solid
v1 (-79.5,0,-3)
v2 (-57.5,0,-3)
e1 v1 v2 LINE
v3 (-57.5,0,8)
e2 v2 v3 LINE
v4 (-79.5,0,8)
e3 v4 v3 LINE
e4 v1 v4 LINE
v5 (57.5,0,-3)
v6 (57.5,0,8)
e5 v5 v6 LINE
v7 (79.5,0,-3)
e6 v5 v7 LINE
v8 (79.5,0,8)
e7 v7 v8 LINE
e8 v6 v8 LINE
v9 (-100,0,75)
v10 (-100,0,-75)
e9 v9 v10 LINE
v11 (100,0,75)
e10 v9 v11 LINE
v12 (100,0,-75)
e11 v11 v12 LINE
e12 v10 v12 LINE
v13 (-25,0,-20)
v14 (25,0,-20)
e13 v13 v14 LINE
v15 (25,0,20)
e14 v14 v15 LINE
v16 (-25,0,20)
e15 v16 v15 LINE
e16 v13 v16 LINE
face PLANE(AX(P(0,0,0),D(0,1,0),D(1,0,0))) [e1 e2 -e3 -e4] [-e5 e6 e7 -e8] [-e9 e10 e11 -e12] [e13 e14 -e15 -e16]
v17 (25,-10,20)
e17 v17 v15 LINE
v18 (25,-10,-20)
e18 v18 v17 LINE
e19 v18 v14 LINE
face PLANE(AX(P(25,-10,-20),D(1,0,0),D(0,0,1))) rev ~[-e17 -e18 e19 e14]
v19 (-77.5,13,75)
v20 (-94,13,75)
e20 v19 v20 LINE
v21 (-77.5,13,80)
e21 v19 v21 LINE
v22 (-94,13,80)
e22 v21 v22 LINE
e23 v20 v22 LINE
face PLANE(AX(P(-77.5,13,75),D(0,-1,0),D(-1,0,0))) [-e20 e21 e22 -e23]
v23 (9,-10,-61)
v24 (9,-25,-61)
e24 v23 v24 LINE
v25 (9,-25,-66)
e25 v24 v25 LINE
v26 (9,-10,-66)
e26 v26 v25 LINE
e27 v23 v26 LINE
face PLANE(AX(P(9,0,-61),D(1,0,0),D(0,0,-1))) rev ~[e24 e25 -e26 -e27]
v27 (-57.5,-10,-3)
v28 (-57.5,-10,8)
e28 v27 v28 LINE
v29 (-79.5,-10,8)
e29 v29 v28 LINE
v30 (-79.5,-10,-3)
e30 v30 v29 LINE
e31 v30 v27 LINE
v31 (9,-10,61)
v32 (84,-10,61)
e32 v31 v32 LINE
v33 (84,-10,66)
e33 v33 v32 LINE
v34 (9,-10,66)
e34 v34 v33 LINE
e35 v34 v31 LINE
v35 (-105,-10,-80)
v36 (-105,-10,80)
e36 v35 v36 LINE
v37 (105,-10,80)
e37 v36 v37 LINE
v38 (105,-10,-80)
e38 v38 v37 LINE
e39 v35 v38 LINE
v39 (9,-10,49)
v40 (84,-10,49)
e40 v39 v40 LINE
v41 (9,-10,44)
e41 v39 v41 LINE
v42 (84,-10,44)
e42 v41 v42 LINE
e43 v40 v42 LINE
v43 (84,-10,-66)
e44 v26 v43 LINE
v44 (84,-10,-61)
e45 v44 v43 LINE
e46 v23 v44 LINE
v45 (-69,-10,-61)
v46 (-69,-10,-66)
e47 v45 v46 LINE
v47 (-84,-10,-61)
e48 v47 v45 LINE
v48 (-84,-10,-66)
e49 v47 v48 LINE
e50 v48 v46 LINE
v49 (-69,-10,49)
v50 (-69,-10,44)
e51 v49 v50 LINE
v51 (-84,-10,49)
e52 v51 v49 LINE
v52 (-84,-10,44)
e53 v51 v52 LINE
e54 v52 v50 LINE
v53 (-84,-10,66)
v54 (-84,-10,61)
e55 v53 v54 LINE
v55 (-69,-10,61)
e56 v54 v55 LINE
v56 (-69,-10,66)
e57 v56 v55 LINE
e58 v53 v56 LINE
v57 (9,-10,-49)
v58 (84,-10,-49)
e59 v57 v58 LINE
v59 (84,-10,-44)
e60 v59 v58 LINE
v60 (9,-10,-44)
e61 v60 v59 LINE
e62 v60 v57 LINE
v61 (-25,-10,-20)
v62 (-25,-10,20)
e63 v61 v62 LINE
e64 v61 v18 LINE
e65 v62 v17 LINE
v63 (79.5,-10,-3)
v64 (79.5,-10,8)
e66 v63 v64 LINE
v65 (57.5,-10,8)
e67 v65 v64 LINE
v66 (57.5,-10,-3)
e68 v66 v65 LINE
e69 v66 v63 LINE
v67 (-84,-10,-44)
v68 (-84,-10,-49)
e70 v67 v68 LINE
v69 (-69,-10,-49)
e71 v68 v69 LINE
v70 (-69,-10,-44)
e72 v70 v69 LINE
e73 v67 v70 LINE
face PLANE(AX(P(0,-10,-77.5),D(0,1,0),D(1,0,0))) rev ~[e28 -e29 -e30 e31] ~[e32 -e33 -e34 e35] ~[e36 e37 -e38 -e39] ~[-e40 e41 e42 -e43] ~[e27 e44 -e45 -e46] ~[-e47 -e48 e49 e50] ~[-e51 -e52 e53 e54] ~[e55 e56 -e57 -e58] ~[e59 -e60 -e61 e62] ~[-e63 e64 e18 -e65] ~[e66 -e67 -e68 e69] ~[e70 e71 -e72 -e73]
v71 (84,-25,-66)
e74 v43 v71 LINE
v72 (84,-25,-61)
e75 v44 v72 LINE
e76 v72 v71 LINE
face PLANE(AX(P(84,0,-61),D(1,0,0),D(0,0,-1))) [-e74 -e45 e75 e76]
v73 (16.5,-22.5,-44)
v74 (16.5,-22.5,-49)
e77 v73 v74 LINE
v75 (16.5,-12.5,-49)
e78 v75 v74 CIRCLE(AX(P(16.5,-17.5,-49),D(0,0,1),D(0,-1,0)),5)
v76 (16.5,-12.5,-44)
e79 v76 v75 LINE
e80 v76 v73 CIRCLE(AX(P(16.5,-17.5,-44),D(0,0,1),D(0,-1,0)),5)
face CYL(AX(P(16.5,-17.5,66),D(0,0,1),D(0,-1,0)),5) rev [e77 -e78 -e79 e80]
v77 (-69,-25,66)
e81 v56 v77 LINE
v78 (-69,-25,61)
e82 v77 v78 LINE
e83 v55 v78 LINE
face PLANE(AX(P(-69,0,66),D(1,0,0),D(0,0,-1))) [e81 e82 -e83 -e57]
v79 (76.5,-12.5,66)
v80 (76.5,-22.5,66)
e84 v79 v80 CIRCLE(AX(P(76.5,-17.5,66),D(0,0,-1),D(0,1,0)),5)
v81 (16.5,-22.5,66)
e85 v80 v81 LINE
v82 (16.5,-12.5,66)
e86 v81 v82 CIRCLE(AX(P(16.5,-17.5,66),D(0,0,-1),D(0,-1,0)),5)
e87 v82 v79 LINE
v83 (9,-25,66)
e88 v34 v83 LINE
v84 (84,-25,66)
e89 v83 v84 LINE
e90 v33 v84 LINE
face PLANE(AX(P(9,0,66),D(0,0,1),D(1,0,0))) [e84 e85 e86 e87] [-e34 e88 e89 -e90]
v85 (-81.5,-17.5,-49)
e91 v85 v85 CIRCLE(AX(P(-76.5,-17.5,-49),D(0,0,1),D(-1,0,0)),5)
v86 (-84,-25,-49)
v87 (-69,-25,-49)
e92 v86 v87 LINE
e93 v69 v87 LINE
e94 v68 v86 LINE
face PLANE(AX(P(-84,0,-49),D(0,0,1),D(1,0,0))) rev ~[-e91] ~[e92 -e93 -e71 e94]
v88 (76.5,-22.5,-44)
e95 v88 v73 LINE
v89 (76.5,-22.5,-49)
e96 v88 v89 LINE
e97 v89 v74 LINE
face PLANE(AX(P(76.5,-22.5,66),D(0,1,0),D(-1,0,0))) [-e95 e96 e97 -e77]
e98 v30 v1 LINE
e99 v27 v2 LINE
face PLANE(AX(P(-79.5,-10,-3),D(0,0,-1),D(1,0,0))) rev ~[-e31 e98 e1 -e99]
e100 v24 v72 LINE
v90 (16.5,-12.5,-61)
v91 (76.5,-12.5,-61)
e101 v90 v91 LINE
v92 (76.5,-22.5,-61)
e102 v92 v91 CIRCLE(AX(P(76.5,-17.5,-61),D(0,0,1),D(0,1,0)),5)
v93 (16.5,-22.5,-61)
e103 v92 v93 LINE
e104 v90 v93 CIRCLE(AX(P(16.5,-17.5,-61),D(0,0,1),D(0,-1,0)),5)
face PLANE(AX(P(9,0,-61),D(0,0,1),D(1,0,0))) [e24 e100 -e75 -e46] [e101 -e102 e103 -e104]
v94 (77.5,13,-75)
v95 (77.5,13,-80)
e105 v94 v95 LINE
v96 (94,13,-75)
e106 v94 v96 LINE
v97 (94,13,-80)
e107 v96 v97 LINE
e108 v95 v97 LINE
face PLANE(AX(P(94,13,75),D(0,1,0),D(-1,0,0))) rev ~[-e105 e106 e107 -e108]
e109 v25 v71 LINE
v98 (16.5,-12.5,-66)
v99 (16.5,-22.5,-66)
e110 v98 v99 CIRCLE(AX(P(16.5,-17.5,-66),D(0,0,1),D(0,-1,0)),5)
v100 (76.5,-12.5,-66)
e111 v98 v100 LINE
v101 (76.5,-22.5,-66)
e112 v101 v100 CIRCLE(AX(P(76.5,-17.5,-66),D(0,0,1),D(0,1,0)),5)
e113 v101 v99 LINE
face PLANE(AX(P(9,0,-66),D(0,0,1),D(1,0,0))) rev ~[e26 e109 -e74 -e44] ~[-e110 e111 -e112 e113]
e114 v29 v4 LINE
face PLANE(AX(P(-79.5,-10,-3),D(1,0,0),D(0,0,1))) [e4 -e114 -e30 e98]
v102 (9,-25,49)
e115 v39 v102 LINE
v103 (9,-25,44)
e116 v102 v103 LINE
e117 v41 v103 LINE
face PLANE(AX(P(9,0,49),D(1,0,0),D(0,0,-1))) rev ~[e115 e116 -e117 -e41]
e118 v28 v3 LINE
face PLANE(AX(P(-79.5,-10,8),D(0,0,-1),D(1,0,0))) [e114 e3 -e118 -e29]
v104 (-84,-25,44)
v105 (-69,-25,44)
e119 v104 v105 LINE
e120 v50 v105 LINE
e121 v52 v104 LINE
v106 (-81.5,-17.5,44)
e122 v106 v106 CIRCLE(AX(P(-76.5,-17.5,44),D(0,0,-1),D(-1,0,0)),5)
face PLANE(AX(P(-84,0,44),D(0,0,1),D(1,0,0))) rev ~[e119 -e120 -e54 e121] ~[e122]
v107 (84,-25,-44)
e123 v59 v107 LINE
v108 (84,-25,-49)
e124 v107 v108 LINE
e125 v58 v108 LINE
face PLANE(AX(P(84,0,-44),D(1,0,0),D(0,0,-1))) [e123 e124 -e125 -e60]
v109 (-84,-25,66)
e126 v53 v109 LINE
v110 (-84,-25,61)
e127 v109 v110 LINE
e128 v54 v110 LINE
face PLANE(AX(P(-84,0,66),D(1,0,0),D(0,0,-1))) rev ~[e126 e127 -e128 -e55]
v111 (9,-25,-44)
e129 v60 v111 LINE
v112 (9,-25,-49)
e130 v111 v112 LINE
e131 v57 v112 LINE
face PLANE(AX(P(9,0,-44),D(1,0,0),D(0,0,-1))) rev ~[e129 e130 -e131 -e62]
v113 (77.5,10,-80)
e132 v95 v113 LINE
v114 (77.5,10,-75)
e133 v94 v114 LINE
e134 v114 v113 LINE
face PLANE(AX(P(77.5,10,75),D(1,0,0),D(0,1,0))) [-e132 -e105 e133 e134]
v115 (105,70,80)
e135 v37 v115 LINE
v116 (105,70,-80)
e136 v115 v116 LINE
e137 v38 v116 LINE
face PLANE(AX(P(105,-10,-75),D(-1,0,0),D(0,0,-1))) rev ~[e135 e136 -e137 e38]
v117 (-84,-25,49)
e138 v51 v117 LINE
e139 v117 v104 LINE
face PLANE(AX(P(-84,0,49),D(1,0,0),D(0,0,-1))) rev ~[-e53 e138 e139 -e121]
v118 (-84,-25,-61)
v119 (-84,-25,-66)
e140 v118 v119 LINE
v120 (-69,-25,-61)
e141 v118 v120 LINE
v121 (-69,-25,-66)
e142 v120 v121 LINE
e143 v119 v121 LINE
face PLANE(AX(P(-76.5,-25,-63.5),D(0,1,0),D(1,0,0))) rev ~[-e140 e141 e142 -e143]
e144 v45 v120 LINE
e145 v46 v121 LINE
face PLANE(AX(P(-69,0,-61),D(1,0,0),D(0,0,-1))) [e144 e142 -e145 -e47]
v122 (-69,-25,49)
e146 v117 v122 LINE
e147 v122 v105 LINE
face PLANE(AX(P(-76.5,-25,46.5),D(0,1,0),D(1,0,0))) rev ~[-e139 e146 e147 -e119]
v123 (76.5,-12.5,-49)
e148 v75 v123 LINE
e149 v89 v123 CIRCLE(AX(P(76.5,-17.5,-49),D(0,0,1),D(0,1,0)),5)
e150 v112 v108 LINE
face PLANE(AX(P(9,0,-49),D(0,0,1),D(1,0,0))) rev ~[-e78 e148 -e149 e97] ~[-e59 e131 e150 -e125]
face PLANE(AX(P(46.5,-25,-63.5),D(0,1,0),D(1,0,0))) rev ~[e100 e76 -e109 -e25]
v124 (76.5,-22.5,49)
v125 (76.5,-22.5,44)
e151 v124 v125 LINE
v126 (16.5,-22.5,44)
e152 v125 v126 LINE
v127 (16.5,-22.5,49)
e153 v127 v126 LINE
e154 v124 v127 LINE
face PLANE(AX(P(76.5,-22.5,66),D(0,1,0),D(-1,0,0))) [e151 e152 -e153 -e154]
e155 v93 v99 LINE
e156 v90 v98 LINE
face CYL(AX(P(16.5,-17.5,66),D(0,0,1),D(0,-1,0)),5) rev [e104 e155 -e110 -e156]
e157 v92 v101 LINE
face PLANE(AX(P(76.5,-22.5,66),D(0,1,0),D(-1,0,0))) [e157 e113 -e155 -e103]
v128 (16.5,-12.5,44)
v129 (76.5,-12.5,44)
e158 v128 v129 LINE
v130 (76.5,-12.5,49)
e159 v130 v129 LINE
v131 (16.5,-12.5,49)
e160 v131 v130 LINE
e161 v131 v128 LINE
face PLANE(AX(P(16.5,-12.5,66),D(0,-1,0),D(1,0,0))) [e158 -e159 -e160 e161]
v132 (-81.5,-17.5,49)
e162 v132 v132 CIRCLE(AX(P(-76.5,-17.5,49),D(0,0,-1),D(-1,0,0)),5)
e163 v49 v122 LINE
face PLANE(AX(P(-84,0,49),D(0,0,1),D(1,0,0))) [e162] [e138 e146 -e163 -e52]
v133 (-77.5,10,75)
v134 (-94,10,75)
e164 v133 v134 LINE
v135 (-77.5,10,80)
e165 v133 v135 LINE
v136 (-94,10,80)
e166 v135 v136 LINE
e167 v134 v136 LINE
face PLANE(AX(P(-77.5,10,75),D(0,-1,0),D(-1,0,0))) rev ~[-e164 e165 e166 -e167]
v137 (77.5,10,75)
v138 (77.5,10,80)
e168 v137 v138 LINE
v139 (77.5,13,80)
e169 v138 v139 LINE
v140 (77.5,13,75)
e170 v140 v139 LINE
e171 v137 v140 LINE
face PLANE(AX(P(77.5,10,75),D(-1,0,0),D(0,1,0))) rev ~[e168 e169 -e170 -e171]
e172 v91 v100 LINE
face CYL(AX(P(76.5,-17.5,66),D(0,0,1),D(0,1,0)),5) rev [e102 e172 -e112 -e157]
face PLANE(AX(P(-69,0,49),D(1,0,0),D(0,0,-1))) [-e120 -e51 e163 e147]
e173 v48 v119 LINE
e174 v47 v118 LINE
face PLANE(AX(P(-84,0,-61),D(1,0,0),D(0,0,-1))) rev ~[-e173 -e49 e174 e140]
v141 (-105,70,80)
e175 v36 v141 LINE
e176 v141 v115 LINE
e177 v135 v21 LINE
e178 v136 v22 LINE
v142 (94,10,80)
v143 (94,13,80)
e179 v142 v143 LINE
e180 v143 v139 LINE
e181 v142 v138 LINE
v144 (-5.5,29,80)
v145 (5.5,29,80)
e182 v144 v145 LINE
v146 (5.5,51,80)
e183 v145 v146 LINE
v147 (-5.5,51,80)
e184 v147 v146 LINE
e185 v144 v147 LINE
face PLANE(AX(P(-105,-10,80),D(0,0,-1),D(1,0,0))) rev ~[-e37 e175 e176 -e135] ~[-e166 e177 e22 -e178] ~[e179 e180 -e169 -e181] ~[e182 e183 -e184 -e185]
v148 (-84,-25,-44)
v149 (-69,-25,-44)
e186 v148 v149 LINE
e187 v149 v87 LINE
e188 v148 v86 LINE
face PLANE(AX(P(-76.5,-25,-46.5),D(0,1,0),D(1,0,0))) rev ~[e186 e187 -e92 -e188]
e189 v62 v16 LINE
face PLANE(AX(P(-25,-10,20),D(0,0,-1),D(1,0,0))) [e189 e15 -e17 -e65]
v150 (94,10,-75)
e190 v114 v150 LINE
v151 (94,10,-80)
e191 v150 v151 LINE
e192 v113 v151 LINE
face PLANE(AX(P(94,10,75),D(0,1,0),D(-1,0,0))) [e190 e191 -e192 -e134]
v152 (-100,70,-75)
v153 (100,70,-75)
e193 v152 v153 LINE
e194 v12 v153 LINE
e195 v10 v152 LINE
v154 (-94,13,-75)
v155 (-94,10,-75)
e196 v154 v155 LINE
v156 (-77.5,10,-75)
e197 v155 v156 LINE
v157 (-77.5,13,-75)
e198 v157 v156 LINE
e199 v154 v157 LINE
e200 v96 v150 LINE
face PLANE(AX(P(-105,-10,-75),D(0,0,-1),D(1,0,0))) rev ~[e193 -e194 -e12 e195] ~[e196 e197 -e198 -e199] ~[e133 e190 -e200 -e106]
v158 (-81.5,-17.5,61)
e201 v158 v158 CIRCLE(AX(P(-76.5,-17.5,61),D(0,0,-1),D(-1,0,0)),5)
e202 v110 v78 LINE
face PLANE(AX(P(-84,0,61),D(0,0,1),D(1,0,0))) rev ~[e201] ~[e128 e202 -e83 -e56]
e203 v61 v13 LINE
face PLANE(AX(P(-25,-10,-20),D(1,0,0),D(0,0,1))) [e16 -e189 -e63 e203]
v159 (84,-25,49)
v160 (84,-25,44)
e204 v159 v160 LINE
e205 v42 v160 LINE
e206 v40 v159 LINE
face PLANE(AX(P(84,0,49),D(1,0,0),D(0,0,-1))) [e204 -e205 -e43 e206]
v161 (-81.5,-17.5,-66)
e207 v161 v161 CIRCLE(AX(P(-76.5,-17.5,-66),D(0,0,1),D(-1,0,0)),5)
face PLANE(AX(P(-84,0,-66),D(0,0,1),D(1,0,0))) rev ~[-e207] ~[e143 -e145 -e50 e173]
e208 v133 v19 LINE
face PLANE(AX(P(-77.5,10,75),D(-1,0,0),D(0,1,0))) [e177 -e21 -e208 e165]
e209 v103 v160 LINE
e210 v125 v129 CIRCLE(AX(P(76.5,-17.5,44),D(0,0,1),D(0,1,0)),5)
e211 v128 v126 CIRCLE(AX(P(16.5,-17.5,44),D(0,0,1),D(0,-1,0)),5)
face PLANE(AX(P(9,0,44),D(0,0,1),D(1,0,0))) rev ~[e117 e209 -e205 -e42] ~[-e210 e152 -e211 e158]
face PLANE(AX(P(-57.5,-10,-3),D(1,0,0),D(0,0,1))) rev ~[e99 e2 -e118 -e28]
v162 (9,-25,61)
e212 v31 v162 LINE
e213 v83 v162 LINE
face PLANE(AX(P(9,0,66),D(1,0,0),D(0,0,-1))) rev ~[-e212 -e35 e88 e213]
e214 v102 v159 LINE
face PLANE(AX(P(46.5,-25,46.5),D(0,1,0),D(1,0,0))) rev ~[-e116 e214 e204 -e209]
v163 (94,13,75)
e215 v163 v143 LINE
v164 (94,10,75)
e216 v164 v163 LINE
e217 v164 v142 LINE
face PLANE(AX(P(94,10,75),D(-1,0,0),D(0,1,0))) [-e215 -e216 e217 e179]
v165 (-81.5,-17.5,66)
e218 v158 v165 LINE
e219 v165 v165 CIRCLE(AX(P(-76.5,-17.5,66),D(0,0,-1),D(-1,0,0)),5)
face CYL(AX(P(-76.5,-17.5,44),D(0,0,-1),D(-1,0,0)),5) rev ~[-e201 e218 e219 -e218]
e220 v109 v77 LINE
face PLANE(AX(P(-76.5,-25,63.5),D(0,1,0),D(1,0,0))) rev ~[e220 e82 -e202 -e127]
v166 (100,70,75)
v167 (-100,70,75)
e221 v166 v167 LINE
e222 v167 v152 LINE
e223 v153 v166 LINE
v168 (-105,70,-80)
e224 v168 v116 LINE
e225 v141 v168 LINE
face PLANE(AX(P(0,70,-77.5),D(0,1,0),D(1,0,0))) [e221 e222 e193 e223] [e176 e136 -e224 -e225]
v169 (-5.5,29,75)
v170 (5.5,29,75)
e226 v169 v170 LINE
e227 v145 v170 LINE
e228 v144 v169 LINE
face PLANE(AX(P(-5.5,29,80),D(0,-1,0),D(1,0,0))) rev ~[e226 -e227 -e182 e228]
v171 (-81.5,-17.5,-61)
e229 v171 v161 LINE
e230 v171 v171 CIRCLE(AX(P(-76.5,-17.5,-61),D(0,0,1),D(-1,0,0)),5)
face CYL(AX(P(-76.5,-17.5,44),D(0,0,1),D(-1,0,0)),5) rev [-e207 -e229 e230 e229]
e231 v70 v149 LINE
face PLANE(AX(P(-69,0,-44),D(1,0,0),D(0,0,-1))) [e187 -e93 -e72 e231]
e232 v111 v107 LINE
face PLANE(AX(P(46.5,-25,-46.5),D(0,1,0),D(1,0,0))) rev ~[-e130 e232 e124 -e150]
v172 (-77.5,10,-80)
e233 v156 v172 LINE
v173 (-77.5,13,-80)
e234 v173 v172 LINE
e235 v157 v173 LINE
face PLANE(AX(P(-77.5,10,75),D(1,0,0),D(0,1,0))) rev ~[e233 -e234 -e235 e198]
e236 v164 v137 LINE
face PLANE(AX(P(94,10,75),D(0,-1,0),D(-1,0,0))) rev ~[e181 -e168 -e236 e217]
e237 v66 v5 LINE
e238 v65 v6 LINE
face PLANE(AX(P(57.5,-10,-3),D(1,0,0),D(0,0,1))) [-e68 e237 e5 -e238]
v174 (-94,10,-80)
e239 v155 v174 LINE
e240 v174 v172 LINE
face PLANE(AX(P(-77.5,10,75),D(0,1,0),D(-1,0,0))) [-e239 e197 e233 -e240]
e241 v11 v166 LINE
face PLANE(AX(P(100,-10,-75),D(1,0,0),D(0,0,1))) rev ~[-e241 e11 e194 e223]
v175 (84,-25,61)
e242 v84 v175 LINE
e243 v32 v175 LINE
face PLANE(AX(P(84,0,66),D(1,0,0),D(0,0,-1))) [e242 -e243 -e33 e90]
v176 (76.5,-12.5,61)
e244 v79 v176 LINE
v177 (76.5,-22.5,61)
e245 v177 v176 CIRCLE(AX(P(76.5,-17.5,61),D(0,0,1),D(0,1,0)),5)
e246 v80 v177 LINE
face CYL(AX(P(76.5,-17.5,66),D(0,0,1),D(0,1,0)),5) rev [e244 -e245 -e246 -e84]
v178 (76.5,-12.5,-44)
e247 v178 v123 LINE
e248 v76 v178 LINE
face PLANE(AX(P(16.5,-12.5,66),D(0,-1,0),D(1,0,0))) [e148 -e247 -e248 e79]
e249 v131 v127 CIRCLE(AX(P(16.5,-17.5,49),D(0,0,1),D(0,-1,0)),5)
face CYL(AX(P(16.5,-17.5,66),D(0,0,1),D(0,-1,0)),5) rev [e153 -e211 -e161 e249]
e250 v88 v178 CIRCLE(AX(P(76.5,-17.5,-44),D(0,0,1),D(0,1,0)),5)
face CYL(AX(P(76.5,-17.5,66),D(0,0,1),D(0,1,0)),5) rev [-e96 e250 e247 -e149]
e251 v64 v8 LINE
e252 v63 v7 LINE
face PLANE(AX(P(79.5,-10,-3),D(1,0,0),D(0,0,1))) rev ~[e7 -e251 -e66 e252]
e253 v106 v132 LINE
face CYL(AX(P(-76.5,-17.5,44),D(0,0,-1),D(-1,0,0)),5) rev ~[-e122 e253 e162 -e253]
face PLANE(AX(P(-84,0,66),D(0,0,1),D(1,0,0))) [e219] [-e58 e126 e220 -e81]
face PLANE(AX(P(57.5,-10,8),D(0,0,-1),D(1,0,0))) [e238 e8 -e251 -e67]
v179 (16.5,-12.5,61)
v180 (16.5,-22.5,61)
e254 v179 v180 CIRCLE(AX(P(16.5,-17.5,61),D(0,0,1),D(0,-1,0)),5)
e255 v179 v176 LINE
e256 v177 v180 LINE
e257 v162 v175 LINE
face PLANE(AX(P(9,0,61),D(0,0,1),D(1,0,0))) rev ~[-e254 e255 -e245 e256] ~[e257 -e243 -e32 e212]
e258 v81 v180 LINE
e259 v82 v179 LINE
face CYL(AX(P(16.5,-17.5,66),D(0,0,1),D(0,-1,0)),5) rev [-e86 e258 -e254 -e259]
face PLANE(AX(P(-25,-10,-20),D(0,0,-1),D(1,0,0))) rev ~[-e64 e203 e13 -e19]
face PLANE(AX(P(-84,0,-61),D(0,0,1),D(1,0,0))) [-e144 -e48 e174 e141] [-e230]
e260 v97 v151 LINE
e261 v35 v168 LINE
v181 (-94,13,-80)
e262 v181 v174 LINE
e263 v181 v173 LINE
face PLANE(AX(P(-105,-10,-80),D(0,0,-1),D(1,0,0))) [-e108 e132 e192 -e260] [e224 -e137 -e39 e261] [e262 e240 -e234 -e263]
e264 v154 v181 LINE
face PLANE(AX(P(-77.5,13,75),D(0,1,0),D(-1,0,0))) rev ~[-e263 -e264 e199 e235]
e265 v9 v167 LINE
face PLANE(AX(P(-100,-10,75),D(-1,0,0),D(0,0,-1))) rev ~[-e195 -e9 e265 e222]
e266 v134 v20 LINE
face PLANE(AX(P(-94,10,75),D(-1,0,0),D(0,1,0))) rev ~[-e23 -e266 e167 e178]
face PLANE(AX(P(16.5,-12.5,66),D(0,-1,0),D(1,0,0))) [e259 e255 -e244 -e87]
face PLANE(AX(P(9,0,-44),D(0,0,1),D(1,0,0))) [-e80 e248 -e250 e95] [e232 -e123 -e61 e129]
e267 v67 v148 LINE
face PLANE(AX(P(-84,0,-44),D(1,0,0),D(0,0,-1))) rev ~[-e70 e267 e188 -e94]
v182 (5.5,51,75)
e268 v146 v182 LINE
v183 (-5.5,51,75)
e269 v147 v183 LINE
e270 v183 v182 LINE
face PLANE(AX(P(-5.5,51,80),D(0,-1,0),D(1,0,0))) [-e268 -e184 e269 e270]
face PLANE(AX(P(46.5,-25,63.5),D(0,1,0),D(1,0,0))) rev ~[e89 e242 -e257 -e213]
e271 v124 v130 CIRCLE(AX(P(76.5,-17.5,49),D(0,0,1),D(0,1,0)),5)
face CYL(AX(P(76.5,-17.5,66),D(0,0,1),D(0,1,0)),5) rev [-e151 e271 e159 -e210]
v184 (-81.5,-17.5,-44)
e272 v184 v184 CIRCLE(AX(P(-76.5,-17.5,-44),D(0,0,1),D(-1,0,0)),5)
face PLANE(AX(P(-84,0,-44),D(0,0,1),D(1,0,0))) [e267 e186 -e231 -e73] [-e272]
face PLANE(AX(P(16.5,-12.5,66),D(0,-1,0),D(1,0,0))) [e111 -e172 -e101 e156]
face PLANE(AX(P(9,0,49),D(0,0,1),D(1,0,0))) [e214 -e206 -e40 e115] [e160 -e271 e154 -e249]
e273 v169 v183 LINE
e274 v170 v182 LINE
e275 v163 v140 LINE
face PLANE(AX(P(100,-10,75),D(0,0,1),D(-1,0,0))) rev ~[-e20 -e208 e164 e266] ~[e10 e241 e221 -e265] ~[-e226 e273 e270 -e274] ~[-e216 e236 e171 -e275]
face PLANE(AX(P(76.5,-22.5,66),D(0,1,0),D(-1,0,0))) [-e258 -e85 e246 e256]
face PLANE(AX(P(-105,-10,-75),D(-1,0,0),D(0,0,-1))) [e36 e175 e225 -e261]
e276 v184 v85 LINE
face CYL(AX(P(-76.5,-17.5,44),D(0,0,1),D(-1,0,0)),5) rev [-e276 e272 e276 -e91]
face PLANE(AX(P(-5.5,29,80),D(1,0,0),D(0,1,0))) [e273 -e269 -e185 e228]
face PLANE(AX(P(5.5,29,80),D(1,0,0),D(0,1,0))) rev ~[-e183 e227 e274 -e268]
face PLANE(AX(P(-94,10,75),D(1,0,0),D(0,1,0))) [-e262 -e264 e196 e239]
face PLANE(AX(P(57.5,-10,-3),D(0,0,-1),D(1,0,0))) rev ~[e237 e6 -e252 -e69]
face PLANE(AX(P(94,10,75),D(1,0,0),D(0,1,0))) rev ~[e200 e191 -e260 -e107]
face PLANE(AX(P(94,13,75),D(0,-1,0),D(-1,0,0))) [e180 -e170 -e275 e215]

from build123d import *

# Parameters (mm, degrees)
SKETCH1_W                = 200
SKETCH1_H                = 150
SKETCH1_W_2              = 75
SKETCH1_H_2              = 5
SKETCH1_W_3              = 15
BOSS_EXTRUDE2_DEPTH      = 10
SKETCH1_8_W              = 75
SKETCH1_8_H              = 5
SKETCH1_8_W_2            = 15
BOSS_EXTRUDE3_DEPTH      = 25
BOSS_EXTRUDE4_START      = -10
BOSS_EXTRUDE4_DEPTH      = 80
SKETCH7_R                = 5
CUT_EXTRUDE2_DEPTH       = 120
CUT_EXTRUDE2_DEPTH_BACK  = 37
CUT_EXTRUDE3_DEPTH       = 142
SKETCH9_W                = 11
SKETCH9_H                = 22
CUT_EXTRUDE4_DEPTH       = 10
SKETCH15_W               = 22
SKETCH15_H               = 11
SKETCH15_W_2             = 50
SKETCH15_H_2             = 40
CUT_EXTRUDE9_DEPTH       = 10
BOSS_EXTRUDE9_START      = -10
SKETCH18_W               = 210
SKETCH18_H               = 5
BOSS_EXTRUDE9_DEPTH      = 80
SKETCH17_W               = 16.5
SKETCH17_H               = 3
CUT_EXTRUDE11_DEPTH      = 156
CUT_EXTRUDE11_DEPTH_BACK = 6


with BuildPart() as part:
    # Sketch1 → Boss-Extrude2 (new body)
    with BuildSketch(Plane(origin=(0, 0, 0), x_dir=(1, 0, 0), z_dir=(0, 1, 0))):
        Rectangle(SKETCH1_W, SKETCH1_H)
        with Locations((46.5, -63.5)):
            Rectangle(SKETCH1_W_2, SKETCH1_H_2, mode=Mode.SUBTRACT)
        with Locations((-76.5, -63.5)):
            Rectangle(SKETCH1_W_3, SKETCH1_H_2, mode=Mode.SUBTRACT)
        with Locations((-76.5, -46.5)):
            Rectangle(SKETCH1_W_3, SKETCH1_H_2, mode=Mode.SUBTRACT)
        with Locations((46.5, -46.5)):
            Rectangle(SKETCH1_W_2, SKETCH1_H_2, mode=Mode.SUBTRACT)
        with Locations((46.5, 46.5)):
            Rectangle(SKETCH1_W_2, SKETCH1_H_2, mode=Mode.SUBTRACT)
        with Locations((46.5, 63.5)):
            Rectangle(SKETCH1_W_2, SKETCH1_H_2, mode=Mode.SUBTRACT)
        with Locations((-76.5, 63.5)):
            Rectangle(SKETCH1_W_3, SKETCH1_H_2, mode=Mode.SUBTRACT)
        with Locations((-76.5, 46.5)):
            Rectangle(SKETCH1_W_3, SKETCH1_H_2, mode=Mode.SUBTRACT)
    extrude(amount=-BOSS_EXTRUDE2_DEPTH)

    # Sketch1<8> → Boss-Extrude3 (add)
    with BuildSketch(Plane(origin=(0, 0, 0), x_dir=(1, 0, 0), z_dir=(0, 1, 0))):
        with Locations((46.5, -63.5)):
            Rectangle(SKETCH1_8_W, SKETCH1_8_H)
        with Locations((-76.5, -63.5)):
            Rectangle(SKETCH1_8_W_2, SKETCH1_8_H)
        with Locations((-76.5, -46.5)):
            Rectangle(SKETCH1_8_W_2, SKETCH1_8_H)
        with Locations((46.5, -46.5)):
            Rectangle(SKETCH1_8_W, SKETCH1_8_H)
        with Locations((46.5, 46.5)):
            Rectangle(SKETCH1_8_W, SKETCH1_8_H)
        with Locations((46.5, 63.5)):
            Rectangle(SKETCH1_8_W, SKETCH1_8_H)
        with Locations((-76.5, 63.5)):
            Rectangle(SKETCH1_8_W_2, SKETCH1_8_H)
        with Locations((-76.5, 46.5)):
            Rectangle(SKETCH1_8_W_2, SKETCH1_8_H)
    extrude(amount=-BOSS_EXTRUDE3_DEPTH)

    # Sketch5 → Boss-Extrude4 (add)
    with BuildSketch(Plane(origin=(0, 0, 0), x_dir=(-1, 0, 0), z_dir=(0, 1, 0)).offset(BOSS_EXTRUDE4_START)):
        Polygon((100, 75), (100, -75), (105, -75), (105, 70.097096622), (105, 80), (-105, 80), (-105, 70.097096622), (-105, -75), (-100, -75), (-100, 75), align=None)
    extrude(amount=BOSS_EXTRUDE4_DEPTH)

    # Sketch7 → Cut-Extrude2 (cut, two sides)
    with BuildSketch(Plane(origin=(0, 0, 44), x_dir=(-1, 0, 0), z_dir=(0, 0, -1))) as cut_extrude2_sk:
        with Locations((76.5, -17.5)):
            Circle(SKETCH7_R)
    extrude(amount=CUT_EXTRUDE2_DEPTH, mode=Mode.SUBTRACT)
    extrude(cut_extrude2_sk.sketch, amount=-CUT_EXTRUDE2_DEPTH_BACK, mode=Mode.SUBTRACT)

    # Sketch8 → Cut-Extrude3 (cut, through all)
    with BuildSketch(Plane.XY.offset(66)):
        with BuildLine():
            Line((16.5, -12.5), (76.5, -12.5))
            ThreePointArc((76.5, -12.5), (81.5, -17.5), (76.5, -22.5))
            Line((76.5, -22.5), (16.5, -22.5))
            ThreePointArc((16.5, -22.5), (11.5, -17.5), (16.5, -12.5))
        make_face()
    extrude(amount=-CUT_EXTRUDE3_DEPTH, mode=Mode.SUBTRACT)

    # Sketch9 → Cut-Extrude4 (cut)
    with BuildSketch(Plane.XY.offset(80)):
        with Locations((0, 40)):
            Rectangle(SKETCH9_W, SKETCH9_H)
    extrude(amount=-CUT_EXTRUDE4_DEPTH, mode=Mode.SUBTRACT)

    # Sketch15 → Cut-Extrude9 (cut)
    with BuildSketch(Plane.XZ.offset(10)):
        with Locations((-68.5, 2.5)):
            Rectangle(SKETCH15_W, SKETCH15_H)
        with Locations((68.5, 2.5)):
            Rectangle(SKETCH15_W, SKETCH15_H)
        Rectangle(SKETCH15_W_2, SKETCH15_H_2)
    extrude(amount=-CUT_EXTRUDE9_DEPTH, mode=Mode.SUBTRACT)

    # Sketch18 → Boss-Extrude9 (add)
    with BuildSketch(Plane(origin=(0, 0, 0), x_dir=(1, 0, 0), z_dir=(0, 1, 0)).offset(BOSS_EXTRUDE9_START)):
        with Locations((0, 77.5)):
            Rectangle(SKETCH18_W, SKETCH18_H)
    extrude(amount=BOSS_EXTRUDE9_DEPTH)

    # Sketch17 → Cut-Extrude11 (cut, two sides)
    with BuildSketch(Plane(origin=(0, 0, 75), x_dir=(-1, 0, 0), z_dir=(0, 0, -1))) as cut_extrude11_sk:
        with Locations((-85.75, 11.5)):
            Rectangle(SKETCH17_W, SKETCH17_H)
        with Locations((85.75, 11.5)):
            Rectangle(SKETCH17_W, SKETCH17_H)
    extrude(amount=CUT_EXTRUDE11_DEPTH, mode=Mode.SUBTRACT)
    extrude(cut_extrude11_sk.sketch, amount=-CUT_EXTRUDE11_DEPTH_BACK, mode=Mode.SUBTRACT)


solid = part.part
